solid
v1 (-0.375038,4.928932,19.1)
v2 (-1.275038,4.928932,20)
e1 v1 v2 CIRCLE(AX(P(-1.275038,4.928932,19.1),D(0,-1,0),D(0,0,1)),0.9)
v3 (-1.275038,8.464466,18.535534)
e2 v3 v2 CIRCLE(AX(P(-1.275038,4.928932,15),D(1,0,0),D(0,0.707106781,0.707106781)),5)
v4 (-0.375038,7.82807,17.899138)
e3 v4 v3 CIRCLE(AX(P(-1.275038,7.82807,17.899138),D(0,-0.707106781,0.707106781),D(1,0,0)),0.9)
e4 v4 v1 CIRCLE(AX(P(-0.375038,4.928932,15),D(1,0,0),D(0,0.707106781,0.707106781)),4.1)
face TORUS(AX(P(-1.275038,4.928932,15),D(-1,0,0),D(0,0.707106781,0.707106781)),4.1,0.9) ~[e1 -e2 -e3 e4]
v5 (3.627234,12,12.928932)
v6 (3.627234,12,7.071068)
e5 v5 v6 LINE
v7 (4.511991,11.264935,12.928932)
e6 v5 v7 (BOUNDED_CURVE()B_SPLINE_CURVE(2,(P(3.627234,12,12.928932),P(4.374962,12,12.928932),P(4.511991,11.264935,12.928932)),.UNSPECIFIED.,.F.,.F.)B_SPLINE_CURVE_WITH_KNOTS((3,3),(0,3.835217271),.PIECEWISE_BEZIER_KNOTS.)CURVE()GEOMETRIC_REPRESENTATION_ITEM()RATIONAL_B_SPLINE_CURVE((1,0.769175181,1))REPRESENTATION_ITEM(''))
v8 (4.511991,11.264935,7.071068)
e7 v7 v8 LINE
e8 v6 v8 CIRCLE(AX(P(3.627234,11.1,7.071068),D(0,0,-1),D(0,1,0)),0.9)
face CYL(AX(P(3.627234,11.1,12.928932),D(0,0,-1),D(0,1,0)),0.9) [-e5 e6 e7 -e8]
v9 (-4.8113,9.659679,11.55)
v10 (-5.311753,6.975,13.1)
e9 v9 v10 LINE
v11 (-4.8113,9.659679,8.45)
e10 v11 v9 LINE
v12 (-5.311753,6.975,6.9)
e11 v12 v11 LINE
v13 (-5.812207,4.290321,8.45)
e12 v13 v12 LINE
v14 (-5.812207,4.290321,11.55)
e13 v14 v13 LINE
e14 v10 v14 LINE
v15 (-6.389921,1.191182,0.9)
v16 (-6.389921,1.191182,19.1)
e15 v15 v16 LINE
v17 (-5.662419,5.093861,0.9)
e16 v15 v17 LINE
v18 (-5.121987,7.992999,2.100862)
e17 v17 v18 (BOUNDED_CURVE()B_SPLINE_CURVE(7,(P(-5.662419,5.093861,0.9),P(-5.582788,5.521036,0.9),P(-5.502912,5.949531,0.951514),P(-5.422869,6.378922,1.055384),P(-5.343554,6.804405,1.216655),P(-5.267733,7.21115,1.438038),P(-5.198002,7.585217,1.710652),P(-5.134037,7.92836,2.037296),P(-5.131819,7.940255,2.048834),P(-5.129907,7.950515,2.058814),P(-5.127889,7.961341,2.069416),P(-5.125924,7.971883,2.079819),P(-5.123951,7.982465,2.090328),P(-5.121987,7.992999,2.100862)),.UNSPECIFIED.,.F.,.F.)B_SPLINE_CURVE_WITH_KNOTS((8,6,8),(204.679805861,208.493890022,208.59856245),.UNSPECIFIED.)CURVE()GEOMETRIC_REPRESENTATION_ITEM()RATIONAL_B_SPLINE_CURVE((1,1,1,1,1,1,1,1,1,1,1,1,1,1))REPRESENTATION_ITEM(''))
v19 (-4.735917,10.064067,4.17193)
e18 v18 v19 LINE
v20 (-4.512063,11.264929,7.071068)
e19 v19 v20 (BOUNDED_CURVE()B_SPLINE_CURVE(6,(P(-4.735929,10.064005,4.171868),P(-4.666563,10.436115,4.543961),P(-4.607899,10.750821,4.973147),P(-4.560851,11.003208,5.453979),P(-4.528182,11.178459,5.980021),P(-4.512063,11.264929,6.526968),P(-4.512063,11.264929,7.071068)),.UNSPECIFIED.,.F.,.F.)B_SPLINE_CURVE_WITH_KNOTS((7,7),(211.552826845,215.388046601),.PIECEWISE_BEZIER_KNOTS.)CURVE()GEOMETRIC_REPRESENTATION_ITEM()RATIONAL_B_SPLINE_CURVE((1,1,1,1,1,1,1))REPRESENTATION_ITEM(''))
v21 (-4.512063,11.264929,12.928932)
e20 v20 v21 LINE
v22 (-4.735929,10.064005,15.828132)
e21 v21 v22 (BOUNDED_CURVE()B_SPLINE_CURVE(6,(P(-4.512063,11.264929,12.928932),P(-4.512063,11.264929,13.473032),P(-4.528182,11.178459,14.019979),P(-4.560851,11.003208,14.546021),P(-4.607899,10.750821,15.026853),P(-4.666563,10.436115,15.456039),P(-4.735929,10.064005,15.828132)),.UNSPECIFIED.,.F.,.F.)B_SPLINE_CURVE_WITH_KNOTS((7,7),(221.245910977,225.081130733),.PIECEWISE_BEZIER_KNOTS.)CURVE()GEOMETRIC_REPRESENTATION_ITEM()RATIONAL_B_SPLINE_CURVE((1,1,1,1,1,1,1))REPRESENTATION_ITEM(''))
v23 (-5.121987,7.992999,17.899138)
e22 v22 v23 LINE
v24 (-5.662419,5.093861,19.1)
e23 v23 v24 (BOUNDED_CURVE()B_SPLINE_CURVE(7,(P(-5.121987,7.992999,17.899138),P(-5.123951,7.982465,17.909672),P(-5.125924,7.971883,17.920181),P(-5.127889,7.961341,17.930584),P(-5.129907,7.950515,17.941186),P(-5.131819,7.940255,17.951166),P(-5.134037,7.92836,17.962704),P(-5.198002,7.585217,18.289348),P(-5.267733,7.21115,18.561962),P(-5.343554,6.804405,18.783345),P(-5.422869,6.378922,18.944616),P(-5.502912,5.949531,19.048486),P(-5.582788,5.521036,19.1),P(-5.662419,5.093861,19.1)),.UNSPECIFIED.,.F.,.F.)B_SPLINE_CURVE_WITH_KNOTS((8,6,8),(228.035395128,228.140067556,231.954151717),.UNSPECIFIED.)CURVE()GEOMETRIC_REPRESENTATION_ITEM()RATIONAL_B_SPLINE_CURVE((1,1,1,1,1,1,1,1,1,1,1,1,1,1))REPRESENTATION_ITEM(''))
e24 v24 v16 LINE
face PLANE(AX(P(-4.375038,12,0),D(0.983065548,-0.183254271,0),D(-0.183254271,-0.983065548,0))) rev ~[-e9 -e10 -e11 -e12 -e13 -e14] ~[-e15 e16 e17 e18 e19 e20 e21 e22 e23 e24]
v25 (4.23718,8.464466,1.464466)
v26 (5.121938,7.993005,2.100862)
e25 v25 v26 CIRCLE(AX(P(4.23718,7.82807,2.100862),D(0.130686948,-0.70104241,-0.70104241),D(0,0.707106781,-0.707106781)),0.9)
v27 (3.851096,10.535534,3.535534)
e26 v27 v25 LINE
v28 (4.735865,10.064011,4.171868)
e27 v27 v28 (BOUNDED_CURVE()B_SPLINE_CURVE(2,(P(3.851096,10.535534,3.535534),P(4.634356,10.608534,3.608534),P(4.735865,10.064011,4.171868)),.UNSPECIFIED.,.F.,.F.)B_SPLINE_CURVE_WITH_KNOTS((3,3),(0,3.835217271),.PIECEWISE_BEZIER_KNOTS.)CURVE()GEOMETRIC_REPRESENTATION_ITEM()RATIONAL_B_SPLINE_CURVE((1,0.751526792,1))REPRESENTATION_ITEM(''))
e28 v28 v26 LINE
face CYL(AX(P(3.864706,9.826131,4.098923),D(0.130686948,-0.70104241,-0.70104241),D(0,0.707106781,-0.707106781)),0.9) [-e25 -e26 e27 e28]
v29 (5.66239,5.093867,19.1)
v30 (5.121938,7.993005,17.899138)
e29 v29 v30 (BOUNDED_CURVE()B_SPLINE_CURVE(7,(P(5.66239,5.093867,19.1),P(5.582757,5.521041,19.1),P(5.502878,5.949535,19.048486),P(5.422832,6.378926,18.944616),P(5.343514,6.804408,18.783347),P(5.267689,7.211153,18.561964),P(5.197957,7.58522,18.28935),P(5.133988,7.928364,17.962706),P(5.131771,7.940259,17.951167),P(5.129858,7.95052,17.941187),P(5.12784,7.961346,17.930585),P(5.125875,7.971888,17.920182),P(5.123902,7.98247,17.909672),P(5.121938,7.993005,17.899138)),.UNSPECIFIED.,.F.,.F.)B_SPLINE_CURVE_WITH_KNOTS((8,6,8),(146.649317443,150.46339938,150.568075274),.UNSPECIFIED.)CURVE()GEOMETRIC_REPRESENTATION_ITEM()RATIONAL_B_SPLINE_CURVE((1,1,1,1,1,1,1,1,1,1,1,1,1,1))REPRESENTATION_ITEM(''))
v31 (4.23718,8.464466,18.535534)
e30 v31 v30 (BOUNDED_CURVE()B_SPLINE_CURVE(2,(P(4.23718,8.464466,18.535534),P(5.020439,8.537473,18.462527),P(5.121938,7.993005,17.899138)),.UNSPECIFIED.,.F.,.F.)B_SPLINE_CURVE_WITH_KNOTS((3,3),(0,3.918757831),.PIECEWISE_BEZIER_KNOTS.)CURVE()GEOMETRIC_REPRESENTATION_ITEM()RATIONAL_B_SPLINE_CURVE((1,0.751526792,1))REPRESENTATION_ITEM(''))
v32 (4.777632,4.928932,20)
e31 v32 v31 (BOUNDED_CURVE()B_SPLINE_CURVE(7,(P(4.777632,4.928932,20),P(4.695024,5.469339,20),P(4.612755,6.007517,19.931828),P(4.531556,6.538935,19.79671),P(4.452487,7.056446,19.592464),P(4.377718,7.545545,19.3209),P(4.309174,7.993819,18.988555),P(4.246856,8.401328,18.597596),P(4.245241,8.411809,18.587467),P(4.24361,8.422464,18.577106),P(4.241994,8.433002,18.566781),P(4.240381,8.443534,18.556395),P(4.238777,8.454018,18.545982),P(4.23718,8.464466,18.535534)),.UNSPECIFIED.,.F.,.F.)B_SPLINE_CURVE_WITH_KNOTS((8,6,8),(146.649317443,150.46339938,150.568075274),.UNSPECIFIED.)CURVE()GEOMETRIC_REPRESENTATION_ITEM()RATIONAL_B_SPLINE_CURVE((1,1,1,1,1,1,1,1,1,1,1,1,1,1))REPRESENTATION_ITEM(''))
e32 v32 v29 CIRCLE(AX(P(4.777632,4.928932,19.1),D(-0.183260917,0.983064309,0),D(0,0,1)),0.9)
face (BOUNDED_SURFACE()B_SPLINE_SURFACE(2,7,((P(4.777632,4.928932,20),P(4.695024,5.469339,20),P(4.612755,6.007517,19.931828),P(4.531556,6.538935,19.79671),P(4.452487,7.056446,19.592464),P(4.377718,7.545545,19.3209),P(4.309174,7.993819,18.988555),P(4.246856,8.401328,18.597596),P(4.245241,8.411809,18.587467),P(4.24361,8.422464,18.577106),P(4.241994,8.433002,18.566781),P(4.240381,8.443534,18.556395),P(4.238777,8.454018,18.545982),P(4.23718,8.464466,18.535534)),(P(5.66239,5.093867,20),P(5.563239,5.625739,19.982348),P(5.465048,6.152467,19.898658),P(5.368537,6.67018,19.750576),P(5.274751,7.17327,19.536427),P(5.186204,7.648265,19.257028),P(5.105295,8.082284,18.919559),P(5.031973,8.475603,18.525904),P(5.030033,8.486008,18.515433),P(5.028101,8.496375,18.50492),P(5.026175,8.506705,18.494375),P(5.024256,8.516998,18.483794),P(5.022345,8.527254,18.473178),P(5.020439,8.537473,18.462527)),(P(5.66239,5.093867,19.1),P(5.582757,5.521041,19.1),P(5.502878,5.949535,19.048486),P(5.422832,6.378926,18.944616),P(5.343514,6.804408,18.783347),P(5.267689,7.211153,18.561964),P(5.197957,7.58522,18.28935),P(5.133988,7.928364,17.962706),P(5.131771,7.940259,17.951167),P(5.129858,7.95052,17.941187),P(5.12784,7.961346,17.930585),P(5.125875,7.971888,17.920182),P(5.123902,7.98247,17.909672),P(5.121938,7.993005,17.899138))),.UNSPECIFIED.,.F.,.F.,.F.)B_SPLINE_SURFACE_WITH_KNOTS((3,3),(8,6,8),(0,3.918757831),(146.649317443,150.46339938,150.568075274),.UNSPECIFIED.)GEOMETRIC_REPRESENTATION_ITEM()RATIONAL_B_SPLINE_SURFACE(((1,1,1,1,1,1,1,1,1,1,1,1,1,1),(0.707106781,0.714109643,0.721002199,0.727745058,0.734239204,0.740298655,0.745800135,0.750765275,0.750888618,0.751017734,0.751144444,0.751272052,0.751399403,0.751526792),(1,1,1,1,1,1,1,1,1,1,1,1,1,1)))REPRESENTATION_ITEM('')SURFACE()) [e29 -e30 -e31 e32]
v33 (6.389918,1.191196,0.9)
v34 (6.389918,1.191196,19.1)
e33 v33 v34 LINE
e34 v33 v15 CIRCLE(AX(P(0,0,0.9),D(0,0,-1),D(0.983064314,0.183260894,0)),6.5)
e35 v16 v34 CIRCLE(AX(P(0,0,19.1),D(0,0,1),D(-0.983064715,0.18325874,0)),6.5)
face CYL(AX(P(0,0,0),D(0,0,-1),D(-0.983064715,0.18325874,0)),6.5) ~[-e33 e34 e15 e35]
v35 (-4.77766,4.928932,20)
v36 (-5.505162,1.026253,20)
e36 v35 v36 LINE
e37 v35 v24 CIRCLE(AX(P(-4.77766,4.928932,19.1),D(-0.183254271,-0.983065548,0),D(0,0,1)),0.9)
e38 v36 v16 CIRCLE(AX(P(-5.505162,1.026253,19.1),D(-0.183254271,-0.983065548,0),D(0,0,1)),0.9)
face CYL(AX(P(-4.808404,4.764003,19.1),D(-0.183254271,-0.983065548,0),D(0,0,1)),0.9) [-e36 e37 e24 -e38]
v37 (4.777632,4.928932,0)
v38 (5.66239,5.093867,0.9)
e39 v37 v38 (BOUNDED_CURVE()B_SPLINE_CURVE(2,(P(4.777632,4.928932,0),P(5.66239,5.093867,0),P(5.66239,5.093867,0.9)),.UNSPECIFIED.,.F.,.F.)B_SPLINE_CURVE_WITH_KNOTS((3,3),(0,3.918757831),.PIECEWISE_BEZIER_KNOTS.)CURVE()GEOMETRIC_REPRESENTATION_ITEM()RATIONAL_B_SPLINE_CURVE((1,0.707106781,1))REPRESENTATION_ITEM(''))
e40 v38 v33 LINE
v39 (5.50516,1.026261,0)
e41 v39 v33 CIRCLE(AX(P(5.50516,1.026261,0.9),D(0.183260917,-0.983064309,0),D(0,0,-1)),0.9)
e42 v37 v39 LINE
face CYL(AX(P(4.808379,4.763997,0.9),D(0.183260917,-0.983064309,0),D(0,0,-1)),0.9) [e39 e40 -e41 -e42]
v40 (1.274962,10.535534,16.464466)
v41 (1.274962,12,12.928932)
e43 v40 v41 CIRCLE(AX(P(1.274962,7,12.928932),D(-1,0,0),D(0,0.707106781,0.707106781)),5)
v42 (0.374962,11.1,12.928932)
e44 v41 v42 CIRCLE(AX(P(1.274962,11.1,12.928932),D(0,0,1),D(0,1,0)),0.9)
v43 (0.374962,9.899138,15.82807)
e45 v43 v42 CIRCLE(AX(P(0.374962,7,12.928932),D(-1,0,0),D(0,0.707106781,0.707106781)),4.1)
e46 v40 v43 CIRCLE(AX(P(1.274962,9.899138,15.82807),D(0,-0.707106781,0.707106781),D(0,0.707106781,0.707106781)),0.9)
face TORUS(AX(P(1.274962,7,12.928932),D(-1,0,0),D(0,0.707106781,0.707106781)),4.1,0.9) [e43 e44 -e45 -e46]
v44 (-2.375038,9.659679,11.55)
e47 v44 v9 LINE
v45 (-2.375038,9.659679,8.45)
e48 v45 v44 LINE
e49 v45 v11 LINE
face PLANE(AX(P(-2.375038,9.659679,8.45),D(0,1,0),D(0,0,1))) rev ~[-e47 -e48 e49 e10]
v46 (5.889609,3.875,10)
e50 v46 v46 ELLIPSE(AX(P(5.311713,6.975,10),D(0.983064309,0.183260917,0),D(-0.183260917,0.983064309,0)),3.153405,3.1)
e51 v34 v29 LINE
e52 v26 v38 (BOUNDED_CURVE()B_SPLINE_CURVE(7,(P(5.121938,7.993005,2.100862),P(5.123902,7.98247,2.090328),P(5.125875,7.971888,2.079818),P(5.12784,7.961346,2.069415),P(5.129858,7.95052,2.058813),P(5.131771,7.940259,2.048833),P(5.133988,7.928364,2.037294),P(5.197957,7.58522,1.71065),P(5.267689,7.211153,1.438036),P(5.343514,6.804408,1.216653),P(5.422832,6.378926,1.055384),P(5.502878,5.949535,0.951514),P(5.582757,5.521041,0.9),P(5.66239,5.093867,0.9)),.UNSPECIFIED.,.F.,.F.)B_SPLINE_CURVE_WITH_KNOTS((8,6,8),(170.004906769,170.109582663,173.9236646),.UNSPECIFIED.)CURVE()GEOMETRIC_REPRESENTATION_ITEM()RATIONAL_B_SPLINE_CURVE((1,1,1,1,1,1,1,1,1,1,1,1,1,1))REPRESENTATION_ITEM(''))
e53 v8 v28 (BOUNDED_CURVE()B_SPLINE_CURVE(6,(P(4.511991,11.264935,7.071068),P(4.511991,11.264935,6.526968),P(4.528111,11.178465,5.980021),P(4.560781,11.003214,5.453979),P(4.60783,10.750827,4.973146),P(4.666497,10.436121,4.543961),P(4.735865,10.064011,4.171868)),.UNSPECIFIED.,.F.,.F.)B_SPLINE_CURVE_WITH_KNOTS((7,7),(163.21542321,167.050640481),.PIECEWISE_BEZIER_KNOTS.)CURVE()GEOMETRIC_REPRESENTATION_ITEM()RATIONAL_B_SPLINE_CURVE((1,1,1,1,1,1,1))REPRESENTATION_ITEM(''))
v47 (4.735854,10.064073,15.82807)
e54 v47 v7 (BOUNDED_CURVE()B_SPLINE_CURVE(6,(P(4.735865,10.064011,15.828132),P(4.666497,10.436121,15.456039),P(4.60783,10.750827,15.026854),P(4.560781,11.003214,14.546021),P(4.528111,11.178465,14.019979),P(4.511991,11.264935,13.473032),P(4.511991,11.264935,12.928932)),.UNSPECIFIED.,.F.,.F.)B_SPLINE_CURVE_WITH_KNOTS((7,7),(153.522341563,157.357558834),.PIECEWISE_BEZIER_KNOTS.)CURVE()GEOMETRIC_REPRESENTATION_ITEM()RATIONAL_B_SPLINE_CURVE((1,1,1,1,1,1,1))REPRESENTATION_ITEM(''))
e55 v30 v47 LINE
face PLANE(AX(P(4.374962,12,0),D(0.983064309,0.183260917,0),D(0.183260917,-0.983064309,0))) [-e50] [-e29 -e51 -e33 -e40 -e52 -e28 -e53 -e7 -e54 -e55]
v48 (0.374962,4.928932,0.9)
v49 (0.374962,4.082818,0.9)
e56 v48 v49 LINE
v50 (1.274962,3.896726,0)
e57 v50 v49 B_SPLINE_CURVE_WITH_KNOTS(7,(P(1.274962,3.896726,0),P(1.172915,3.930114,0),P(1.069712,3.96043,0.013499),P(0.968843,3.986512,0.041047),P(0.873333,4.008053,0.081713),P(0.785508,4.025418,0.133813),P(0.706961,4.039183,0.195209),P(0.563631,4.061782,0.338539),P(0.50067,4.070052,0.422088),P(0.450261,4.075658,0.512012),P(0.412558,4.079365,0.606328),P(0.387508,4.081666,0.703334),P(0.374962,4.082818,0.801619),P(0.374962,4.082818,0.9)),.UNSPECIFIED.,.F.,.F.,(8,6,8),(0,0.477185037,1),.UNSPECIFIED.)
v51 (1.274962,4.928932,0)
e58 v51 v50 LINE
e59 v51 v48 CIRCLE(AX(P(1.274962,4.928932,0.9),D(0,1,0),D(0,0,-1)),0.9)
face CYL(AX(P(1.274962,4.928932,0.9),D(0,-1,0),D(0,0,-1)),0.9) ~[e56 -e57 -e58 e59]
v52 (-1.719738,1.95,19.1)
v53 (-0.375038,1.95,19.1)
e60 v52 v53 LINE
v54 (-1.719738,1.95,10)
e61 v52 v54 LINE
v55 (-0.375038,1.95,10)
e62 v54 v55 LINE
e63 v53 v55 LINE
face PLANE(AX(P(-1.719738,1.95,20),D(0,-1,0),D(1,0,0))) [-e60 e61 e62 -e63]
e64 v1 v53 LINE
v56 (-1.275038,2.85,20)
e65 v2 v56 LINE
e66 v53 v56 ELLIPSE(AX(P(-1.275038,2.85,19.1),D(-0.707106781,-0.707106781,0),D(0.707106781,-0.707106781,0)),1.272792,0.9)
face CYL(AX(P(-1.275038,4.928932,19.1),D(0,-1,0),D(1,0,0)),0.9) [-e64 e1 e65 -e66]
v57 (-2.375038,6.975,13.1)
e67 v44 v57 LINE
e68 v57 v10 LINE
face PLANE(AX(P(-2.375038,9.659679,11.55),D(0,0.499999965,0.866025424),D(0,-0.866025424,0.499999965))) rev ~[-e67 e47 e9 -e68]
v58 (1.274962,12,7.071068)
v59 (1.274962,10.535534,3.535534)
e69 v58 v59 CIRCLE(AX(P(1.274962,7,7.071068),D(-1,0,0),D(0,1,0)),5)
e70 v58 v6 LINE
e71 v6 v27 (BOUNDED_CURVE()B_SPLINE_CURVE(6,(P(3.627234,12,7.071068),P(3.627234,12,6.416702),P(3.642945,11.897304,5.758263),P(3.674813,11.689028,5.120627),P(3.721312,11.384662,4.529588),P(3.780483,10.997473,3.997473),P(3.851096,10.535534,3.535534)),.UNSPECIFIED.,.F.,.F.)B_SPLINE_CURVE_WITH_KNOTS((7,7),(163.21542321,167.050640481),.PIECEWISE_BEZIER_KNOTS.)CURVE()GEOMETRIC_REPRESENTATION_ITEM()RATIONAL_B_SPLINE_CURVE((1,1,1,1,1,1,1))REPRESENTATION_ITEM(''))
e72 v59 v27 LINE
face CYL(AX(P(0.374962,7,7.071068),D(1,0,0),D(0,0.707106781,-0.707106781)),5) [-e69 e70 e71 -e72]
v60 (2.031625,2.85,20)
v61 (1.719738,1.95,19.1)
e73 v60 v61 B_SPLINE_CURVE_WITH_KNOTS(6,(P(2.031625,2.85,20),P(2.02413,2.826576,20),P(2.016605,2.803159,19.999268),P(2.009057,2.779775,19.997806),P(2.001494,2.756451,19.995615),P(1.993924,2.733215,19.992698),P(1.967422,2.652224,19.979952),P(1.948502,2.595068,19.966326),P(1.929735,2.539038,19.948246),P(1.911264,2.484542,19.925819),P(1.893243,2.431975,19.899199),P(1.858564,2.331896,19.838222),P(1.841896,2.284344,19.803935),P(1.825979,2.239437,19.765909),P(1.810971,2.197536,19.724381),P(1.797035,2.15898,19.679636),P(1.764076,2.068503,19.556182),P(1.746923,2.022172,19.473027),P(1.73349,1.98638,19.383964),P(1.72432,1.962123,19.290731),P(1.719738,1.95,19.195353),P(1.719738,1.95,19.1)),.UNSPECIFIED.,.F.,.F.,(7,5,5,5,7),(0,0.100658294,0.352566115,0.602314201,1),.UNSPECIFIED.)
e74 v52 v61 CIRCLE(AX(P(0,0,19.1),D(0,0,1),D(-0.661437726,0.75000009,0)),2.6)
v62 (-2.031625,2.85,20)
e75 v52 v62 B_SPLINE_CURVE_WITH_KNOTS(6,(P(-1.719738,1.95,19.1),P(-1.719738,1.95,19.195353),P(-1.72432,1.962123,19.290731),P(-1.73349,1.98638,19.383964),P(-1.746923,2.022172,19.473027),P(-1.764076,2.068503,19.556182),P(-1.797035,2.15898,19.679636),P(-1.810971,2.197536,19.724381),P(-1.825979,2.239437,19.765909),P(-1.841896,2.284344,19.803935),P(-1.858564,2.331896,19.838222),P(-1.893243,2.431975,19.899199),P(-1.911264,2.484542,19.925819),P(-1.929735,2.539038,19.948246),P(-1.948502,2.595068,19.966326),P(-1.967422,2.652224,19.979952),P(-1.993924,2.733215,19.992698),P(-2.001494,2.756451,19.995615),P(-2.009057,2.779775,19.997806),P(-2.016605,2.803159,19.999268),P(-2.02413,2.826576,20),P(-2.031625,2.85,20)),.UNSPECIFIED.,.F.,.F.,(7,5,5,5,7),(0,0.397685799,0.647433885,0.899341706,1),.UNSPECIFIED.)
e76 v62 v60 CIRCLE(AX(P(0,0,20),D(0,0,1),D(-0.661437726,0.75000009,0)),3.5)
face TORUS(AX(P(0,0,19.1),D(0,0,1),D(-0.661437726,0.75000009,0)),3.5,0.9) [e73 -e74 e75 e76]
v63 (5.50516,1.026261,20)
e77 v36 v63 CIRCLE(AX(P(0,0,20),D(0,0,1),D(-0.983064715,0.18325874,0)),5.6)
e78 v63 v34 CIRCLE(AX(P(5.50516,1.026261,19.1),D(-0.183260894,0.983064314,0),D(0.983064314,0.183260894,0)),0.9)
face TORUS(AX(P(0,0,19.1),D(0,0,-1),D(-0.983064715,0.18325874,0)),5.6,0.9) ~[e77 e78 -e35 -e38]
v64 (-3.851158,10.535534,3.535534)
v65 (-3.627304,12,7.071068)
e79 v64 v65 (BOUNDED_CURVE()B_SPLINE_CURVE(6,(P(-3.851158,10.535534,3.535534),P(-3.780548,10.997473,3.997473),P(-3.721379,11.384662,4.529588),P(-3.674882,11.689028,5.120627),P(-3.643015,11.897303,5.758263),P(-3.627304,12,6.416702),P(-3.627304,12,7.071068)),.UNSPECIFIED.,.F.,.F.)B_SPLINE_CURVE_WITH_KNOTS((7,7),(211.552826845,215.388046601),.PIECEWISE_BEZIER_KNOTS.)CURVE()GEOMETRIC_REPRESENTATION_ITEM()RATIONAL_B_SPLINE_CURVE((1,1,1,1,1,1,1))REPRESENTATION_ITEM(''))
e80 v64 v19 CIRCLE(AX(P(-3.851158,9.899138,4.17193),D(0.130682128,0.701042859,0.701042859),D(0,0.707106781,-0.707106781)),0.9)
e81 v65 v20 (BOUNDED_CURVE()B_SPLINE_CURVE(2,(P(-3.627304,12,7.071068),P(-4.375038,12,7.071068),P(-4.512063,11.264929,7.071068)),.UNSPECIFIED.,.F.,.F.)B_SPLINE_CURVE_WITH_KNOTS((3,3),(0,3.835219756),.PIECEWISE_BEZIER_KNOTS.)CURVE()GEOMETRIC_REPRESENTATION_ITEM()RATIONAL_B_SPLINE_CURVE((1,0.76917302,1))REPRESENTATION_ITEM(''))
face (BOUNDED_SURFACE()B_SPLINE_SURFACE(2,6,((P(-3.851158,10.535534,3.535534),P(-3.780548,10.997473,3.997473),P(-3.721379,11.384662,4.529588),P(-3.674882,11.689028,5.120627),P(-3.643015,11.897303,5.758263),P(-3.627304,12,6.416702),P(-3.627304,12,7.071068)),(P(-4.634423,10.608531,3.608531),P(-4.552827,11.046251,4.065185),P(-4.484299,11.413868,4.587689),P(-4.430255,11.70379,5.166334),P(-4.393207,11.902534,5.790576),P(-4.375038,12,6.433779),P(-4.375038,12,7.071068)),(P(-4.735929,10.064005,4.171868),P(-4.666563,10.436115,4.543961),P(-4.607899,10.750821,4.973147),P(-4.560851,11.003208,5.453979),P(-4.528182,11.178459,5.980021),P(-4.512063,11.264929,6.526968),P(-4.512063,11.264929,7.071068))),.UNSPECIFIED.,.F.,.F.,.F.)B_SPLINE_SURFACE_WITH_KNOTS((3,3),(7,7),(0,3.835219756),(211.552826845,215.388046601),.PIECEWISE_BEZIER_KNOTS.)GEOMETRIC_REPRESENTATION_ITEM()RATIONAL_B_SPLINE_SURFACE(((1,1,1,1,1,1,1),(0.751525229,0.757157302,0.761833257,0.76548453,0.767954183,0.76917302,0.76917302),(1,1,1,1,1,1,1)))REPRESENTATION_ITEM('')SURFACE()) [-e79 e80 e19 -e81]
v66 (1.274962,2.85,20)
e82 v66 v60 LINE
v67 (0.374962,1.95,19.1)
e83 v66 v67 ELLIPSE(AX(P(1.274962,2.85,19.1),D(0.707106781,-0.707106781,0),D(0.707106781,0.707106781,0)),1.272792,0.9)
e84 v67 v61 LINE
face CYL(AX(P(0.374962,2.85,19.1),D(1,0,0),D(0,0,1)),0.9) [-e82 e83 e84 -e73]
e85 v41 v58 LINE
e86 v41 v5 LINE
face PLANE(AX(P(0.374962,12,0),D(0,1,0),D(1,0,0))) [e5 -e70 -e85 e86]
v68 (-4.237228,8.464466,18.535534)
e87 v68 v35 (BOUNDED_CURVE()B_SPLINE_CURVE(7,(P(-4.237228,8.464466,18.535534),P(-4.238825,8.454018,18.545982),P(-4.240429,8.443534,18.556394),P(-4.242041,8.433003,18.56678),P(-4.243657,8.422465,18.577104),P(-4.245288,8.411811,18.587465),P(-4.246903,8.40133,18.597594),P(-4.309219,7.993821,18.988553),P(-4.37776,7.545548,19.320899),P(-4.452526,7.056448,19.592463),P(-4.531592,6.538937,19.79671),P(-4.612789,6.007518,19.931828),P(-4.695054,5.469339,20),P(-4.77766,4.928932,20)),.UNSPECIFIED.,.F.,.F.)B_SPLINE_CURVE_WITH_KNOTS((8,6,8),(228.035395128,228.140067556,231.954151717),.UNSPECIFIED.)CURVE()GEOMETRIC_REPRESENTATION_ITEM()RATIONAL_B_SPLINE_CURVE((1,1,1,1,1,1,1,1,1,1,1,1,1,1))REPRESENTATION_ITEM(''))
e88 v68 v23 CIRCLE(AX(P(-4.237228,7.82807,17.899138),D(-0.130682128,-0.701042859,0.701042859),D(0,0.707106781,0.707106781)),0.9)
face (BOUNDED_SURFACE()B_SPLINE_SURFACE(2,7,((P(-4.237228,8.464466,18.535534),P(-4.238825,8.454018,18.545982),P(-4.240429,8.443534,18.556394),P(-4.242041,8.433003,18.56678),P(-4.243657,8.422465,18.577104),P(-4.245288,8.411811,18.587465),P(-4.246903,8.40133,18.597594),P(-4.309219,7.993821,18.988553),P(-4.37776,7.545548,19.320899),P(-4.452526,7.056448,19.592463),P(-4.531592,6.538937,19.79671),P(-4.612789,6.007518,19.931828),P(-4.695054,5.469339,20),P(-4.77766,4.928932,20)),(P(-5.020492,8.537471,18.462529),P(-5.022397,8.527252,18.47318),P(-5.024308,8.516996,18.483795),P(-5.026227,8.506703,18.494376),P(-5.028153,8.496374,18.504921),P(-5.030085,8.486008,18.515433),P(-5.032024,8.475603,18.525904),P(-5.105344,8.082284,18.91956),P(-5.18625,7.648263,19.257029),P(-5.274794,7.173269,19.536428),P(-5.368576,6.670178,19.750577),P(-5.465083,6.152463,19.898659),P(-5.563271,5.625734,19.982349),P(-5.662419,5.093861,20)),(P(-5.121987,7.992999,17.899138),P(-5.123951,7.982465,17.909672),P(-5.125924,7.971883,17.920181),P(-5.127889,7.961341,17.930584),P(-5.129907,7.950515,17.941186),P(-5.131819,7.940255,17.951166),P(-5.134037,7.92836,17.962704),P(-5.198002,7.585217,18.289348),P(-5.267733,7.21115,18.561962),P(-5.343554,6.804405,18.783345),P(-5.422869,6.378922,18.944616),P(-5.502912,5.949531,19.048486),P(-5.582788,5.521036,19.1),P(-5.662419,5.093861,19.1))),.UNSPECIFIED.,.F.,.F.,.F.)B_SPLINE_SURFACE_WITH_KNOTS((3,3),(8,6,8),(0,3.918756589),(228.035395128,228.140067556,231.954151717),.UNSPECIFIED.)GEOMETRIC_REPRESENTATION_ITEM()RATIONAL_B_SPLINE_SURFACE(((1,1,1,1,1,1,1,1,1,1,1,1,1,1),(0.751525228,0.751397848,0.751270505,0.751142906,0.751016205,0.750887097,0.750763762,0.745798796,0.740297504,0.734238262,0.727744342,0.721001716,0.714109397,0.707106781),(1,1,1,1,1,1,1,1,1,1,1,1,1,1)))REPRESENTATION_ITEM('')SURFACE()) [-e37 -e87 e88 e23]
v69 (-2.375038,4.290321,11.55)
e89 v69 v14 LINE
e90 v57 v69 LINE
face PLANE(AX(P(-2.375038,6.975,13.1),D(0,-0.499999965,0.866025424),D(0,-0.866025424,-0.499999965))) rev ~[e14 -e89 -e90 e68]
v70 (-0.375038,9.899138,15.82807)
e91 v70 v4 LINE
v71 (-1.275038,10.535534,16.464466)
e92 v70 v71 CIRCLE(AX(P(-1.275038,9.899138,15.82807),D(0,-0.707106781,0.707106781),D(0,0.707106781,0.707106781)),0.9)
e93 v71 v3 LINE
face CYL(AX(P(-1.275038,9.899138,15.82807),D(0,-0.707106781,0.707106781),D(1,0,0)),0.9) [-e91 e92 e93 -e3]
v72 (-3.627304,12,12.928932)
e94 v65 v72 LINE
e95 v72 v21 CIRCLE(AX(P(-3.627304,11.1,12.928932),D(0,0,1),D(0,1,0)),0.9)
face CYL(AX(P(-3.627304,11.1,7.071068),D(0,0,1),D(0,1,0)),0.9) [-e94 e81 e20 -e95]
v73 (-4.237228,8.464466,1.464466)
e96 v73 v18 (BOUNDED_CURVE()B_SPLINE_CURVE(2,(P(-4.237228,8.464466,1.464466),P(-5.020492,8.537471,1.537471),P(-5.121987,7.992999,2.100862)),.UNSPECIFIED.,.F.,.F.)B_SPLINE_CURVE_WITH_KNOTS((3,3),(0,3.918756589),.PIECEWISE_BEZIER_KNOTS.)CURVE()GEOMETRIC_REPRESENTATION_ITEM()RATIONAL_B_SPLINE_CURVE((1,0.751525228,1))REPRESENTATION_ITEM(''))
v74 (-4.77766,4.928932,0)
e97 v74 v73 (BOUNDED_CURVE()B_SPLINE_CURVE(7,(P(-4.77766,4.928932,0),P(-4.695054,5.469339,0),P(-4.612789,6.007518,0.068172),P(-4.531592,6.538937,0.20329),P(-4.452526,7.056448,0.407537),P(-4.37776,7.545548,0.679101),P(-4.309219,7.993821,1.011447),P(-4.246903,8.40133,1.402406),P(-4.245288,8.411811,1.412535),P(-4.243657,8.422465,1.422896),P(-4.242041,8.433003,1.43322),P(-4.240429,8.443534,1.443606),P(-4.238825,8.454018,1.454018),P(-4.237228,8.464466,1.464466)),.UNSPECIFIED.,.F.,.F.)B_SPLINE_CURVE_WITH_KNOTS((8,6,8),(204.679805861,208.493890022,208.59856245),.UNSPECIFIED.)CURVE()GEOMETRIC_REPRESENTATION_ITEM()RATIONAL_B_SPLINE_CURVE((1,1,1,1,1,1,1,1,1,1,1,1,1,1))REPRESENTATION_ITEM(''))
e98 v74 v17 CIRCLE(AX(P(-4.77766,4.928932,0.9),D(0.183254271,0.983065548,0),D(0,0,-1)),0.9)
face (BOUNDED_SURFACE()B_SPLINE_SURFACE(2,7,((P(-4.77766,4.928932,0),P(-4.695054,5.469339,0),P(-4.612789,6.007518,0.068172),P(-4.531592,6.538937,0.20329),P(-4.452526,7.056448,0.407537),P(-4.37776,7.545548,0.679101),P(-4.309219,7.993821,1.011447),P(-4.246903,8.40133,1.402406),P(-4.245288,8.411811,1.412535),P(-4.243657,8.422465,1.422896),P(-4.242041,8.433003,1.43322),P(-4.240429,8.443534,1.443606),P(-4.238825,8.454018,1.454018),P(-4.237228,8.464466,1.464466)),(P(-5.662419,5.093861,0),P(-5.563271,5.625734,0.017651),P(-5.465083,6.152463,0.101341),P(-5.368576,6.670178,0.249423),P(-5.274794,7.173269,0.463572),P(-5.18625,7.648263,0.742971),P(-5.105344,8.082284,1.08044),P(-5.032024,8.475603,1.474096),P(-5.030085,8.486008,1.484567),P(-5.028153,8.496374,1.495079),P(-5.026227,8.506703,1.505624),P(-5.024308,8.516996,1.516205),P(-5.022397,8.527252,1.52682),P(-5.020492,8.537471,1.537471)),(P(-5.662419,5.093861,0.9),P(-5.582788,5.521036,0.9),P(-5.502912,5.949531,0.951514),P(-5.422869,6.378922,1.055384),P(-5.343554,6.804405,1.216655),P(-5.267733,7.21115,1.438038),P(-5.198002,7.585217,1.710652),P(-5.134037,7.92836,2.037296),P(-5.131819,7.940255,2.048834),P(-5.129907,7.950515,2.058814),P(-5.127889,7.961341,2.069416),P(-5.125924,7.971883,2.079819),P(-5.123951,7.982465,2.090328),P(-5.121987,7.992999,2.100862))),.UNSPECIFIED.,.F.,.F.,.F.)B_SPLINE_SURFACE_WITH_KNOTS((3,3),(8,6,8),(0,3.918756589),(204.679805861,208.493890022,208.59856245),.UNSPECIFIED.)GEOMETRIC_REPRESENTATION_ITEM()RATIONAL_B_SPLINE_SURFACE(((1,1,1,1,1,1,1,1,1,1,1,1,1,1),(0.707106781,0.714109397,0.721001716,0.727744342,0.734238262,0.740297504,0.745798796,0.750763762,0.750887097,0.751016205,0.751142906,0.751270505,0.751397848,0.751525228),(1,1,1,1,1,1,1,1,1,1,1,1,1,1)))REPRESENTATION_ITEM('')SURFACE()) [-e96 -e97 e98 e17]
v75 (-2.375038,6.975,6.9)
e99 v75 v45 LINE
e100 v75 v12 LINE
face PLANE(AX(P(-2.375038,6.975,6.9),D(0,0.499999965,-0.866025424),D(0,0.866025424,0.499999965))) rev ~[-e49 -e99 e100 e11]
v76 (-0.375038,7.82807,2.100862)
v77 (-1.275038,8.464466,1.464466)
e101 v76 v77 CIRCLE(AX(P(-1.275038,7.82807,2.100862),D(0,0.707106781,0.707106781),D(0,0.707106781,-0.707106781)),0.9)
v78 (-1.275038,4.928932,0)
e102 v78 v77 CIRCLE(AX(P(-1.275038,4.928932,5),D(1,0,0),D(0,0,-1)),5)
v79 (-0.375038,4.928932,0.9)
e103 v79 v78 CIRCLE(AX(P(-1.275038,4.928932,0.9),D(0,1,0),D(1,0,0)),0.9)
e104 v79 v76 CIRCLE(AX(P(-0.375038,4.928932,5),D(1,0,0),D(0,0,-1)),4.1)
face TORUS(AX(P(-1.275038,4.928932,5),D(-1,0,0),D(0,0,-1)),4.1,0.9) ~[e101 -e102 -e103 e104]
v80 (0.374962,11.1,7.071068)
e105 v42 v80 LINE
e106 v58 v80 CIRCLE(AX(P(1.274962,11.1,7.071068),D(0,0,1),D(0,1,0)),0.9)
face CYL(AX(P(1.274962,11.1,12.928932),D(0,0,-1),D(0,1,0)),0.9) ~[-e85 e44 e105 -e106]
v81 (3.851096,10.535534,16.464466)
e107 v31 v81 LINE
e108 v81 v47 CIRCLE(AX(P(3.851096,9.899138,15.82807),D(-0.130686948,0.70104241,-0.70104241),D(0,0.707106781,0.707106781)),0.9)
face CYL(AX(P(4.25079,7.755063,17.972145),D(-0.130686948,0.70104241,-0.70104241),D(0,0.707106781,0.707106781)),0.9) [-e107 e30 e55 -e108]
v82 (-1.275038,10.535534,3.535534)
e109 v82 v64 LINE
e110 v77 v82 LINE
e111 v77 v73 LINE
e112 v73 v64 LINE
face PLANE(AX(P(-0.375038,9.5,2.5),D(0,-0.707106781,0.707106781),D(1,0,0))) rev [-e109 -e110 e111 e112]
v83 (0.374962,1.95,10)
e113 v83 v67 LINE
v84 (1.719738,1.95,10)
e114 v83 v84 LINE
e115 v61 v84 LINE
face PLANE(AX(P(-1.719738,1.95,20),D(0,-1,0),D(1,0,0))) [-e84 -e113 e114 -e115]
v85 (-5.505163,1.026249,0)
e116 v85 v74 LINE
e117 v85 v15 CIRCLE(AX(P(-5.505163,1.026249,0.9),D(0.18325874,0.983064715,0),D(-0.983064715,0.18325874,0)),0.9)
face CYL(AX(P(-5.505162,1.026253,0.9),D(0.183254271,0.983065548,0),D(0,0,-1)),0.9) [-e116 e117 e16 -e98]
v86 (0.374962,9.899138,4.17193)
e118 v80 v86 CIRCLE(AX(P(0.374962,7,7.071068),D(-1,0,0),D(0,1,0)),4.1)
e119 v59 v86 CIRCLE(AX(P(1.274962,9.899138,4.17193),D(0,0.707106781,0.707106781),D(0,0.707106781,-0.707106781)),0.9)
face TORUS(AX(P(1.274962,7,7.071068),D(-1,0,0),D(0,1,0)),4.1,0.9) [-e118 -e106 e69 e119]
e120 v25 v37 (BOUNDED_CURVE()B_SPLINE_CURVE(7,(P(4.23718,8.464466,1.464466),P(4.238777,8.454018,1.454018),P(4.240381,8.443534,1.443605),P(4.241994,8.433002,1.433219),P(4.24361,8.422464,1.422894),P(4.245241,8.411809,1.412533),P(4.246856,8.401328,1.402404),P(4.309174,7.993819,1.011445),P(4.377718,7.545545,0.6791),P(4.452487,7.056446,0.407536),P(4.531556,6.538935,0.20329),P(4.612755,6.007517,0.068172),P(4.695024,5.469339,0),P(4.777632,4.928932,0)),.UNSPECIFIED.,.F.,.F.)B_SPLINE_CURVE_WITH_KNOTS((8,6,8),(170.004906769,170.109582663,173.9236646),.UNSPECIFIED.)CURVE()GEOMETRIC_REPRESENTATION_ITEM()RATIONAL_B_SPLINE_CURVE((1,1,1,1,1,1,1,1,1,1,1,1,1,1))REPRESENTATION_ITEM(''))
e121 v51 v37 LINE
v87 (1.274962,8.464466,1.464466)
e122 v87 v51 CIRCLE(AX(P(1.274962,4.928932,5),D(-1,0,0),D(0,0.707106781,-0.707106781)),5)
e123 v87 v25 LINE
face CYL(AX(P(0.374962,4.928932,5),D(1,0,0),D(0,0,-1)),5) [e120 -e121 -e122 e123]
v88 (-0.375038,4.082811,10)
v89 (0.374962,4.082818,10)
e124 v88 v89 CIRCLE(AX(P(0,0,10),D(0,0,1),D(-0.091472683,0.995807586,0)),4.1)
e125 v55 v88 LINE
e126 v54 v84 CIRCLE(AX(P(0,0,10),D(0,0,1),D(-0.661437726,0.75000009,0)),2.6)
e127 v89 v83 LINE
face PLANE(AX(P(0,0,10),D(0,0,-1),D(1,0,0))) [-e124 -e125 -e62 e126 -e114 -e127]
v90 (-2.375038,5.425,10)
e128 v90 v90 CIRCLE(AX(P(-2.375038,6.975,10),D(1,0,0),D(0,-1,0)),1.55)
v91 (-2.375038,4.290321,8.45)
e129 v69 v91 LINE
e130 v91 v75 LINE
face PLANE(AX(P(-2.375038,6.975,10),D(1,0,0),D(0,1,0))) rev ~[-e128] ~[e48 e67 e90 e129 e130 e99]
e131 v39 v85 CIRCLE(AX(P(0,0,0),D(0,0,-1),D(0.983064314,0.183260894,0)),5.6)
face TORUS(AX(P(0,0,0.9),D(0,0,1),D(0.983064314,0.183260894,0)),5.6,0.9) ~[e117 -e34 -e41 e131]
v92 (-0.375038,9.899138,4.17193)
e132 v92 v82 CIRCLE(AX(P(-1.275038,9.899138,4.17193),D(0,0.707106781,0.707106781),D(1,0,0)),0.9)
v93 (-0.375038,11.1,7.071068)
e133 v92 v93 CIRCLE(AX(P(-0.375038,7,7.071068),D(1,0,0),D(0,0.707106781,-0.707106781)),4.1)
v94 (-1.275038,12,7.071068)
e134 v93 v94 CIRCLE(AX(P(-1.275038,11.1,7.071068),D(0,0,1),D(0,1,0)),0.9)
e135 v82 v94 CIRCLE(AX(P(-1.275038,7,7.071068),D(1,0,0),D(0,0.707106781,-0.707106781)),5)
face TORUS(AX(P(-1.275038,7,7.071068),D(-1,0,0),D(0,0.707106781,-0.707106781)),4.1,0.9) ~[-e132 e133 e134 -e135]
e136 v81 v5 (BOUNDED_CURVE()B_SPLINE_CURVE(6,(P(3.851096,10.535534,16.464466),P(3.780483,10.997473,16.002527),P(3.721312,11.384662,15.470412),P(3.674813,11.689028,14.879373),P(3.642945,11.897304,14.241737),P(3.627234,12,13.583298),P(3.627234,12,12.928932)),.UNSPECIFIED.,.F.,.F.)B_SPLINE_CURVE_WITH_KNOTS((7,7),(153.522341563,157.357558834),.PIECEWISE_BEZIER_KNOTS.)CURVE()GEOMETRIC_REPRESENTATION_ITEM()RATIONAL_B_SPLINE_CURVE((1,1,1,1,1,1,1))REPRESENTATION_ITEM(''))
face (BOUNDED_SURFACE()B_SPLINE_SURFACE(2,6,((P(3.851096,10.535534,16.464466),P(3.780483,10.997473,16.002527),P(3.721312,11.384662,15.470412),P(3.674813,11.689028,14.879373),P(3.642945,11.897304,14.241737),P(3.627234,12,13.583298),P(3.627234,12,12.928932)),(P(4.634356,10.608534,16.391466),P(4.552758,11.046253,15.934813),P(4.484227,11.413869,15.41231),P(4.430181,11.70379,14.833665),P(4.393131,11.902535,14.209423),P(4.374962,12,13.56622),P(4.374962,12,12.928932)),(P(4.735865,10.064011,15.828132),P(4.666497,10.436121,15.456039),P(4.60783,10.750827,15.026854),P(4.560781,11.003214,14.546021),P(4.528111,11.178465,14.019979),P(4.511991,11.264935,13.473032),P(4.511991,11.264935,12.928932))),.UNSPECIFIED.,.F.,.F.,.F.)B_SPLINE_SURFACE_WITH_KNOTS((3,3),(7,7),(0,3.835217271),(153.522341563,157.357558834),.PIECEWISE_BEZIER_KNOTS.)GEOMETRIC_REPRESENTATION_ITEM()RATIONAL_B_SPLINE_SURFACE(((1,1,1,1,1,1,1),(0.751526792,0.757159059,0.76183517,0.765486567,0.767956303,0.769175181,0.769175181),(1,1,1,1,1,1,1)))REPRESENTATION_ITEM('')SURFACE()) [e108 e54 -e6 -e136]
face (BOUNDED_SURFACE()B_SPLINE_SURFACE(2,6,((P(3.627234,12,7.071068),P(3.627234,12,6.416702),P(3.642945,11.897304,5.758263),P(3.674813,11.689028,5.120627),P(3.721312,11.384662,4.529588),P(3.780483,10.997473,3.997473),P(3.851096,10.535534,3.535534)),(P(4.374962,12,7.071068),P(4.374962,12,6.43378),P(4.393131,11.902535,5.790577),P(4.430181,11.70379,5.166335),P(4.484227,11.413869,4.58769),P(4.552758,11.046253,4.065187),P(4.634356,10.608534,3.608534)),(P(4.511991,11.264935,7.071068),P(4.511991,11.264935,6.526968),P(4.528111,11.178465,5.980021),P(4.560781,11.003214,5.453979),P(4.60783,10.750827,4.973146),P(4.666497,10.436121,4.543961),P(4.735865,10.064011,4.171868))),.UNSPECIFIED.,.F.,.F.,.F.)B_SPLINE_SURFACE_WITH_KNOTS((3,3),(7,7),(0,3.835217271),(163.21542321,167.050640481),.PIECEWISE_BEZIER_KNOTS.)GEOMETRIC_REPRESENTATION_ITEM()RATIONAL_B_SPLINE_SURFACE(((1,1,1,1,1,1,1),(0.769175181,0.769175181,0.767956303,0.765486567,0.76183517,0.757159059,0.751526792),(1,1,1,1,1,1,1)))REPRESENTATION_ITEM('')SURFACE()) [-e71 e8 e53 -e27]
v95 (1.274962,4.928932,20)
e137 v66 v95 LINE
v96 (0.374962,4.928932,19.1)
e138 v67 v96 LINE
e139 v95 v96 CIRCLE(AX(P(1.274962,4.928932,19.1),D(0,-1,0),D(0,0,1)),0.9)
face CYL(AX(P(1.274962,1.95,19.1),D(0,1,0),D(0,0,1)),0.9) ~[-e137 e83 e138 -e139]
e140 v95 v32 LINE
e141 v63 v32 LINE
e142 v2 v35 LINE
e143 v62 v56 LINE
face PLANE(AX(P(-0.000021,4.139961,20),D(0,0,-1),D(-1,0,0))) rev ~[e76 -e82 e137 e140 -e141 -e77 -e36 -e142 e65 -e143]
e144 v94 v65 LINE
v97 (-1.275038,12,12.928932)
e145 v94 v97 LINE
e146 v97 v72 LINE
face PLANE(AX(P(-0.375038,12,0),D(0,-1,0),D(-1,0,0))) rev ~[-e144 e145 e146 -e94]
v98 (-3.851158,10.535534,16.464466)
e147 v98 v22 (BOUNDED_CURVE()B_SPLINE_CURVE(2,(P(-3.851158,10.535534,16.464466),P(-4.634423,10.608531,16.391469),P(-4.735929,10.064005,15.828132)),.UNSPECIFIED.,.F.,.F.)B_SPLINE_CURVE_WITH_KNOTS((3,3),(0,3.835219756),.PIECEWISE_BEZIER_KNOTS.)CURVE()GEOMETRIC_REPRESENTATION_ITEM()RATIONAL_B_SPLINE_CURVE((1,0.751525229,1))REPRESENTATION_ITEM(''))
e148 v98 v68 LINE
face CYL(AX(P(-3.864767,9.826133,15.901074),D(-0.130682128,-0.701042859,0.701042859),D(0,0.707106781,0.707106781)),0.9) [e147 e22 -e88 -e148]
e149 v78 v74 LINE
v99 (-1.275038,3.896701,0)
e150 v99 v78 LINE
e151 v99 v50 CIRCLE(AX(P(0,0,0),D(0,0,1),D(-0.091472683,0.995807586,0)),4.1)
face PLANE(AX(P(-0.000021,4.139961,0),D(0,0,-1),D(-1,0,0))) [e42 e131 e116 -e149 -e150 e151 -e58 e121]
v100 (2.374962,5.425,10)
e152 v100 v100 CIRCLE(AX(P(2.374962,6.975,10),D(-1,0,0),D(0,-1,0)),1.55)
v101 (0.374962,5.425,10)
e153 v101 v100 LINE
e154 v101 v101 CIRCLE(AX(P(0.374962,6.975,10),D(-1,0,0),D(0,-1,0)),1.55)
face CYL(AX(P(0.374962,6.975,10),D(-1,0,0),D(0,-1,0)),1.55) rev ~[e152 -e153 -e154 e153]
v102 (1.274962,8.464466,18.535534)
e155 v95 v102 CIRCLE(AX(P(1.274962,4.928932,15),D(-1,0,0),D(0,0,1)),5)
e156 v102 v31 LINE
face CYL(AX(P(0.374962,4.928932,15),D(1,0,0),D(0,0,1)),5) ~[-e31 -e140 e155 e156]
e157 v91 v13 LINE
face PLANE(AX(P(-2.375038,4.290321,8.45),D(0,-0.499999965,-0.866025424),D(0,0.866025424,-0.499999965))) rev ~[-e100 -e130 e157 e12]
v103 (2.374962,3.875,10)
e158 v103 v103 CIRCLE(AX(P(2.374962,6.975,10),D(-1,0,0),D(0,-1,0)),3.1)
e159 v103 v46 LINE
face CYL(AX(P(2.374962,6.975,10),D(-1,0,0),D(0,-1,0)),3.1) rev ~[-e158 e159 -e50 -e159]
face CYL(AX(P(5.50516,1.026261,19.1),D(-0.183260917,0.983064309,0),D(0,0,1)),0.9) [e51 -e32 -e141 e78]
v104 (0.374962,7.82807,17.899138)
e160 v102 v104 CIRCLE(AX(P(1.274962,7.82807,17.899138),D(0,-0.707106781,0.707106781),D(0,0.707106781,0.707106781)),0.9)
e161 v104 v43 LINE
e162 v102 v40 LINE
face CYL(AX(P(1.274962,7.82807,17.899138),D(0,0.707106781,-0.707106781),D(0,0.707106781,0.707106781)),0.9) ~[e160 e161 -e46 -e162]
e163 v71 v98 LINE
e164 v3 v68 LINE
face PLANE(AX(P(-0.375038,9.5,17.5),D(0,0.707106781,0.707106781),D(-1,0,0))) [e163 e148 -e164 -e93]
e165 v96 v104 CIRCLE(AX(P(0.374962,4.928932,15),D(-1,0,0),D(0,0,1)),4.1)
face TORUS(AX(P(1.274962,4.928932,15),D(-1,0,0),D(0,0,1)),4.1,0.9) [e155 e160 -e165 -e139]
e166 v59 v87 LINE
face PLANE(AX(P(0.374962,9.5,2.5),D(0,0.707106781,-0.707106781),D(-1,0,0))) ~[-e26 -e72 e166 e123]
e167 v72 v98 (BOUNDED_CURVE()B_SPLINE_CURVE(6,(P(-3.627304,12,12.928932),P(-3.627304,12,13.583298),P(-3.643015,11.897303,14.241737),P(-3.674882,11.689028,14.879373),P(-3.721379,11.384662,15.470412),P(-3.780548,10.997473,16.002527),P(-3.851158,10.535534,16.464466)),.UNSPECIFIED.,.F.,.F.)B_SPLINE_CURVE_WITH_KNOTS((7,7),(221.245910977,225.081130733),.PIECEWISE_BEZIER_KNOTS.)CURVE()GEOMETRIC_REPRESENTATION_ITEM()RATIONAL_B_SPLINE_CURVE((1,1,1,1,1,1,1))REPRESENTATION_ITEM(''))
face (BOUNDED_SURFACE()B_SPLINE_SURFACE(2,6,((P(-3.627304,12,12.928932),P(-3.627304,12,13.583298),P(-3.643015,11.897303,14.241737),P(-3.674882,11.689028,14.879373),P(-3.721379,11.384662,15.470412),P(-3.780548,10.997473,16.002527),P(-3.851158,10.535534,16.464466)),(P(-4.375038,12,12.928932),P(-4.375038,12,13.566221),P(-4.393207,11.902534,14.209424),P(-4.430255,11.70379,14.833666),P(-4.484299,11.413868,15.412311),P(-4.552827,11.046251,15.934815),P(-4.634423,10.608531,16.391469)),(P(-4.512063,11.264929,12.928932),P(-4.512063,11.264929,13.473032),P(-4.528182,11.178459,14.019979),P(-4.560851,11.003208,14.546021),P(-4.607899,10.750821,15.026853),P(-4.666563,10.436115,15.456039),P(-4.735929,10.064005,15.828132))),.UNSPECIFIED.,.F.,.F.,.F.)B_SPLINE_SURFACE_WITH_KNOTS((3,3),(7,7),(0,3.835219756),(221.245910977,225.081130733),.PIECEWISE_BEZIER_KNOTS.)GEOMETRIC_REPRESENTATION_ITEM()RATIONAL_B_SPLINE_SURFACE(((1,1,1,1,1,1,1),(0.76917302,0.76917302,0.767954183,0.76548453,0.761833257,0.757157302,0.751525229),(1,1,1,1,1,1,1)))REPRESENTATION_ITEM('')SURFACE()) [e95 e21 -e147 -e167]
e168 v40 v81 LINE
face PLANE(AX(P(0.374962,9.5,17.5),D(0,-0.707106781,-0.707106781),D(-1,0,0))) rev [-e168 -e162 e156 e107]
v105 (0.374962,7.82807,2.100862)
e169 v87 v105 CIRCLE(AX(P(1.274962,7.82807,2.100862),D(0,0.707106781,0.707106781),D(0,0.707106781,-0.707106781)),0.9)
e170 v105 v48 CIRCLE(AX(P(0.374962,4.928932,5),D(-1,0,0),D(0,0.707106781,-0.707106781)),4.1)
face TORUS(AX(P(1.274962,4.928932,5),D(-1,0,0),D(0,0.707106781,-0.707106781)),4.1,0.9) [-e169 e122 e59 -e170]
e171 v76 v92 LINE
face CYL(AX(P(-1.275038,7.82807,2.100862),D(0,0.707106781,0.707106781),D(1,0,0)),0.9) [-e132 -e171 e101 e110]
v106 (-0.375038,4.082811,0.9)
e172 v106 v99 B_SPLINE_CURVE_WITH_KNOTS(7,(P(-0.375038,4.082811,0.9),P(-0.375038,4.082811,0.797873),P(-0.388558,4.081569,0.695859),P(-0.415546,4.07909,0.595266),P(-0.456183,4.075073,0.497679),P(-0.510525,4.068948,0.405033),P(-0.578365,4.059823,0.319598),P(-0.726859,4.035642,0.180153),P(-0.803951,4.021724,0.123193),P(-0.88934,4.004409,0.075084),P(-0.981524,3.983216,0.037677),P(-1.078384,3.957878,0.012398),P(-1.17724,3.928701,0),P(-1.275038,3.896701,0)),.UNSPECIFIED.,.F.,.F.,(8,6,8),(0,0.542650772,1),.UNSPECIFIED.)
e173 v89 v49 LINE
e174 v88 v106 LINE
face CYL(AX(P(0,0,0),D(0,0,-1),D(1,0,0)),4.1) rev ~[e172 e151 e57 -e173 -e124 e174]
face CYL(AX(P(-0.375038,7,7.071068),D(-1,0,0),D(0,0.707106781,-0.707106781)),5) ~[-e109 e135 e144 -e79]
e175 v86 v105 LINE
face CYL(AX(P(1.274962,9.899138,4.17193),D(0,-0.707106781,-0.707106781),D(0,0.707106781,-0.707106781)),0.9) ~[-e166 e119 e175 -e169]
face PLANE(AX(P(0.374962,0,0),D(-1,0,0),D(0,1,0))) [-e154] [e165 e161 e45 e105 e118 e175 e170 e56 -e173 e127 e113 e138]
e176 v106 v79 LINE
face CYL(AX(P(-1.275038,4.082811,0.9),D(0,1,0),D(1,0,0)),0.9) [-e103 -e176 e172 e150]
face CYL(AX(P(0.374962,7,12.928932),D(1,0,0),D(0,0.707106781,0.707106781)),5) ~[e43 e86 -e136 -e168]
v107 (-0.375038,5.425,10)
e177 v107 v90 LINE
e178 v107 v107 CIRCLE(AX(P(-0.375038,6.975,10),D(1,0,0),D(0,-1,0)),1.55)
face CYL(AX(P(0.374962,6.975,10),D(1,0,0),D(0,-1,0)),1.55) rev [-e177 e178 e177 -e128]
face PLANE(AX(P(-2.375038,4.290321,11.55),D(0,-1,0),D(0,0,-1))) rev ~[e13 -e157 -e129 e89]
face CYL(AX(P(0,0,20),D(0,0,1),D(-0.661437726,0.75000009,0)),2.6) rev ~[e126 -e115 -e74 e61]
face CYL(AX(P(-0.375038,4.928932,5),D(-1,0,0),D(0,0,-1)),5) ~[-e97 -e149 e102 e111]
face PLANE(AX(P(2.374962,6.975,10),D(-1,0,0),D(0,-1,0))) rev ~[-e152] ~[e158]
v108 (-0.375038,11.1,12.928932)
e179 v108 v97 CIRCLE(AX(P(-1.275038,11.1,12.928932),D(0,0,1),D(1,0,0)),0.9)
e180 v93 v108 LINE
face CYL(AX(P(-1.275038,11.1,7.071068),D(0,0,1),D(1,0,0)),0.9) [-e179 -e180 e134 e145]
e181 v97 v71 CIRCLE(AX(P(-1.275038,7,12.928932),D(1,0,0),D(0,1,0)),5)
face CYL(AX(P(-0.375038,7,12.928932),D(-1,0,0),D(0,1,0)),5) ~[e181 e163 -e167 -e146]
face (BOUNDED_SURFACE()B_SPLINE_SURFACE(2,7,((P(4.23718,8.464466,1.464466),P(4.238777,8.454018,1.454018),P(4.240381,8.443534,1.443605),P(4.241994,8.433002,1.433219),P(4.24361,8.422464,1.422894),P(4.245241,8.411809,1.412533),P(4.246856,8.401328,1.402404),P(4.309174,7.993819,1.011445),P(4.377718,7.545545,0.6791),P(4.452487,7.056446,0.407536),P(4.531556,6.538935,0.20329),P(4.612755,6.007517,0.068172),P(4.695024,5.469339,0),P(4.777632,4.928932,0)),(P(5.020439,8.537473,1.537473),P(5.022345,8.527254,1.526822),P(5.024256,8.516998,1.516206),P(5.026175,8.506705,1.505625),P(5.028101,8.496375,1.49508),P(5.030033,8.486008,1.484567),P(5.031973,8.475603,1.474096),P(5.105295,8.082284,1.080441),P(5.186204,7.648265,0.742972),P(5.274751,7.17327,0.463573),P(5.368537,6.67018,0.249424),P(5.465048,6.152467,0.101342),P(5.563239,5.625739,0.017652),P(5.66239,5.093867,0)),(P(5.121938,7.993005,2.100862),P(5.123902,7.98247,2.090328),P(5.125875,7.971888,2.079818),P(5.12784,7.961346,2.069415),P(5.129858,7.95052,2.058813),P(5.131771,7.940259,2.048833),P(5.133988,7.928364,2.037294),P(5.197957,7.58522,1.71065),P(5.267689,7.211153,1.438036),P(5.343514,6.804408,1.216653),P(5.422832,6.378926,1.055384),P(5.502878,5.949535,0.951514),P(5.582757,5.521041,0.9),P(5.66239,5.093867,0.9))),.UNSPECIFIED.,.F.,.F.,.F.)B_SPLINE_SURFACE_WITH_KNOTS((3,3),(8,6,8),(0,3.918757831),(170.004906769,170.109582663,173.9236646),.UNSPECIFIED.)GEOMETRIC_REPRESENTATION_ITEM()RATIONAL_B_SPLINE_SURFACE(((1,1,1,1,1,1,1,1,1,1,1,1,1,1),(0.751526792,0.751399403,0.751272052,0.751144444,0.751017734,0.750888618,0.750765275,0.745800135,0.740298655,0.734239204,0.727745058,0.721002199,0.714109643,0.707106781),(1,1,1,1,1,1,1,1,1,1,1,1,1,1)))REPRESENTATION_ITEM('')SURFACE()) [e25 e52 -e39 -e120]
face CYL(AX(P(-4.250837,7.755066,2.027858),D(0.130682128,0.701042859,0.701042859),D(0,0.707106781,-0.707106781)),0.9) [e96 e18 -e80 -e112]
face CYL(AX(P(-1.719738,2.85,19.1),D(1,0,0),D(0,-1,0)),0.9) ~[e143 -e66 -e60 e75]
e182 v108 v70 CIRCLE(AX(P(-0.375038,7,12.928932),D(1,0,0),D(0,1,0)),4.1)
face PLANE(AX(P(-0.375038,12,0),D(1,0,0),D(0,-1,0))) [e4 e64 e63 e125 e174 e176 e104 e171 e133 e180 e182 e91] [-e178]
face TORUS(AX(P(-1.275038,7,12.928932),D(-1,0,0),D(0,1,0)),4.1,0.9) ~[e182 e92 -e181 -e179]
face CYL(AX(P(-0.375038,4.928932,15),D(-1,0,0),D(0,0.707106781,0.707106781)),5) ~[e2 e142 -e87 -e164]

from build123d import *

# Parameters (mm, degrees)
EXTRUDE002_DEPTH     = 10
SKETCH004_R          = 3.1
EXTRUDE001_DEPTH     = 10
EXTRUDE_DEPTH        = 20
SKETCH001_R          = 4.1
POCKET_DEPTH         = 10
POCKET001_DEPTH      = 10
SKETCH003_R          = 1.55
POCKET002_DEPTH      = 6.126038
POCKET002_DEPTH_BACK = -6.875962
CHAMFER_SIZE         = 5
FILLET_R             = 5
FILLET001_R          = 0.9


with BuildPart() as extrude002:
    # Sketch005 → Extrude002 (new body)
    with BuildSketch(Plane.YZ.offset(-0.375038)):
        Polygon((9.659679, 11.55), (6.975, 13.1), (4.290321, 11.55), (4.290321, 8.45), (6.975, 6.9), (9.659679, 8.45), align=None)
    extrude(amount=-EXTRUDE002_DEPTH)


with BuildPart() as extrude002_1:
    # Extrude002 placement: moved
    add(extrude002.part.moved(Location((-2, 0, 0))))


with BuildPart() as extrude001:
    # Sketch004 → Extrude001 (new body)
    with BuildSketch(Plane(origin=(0.374962, 0, 0), x_dir=(0, -1, 0), z_dir=(-1, 0, 0))):
        with Locations((-6.975, 10)):
            Circle(SKETCH004_R)
    extrude(amount=-EXTRUDE001_DEPTH)


with BuildPart() as extrude001_1:
    # Extrude001 placement: moved
    add(extrude001.part.moved(Location((2, 0, 0))))


with BuildPart() as fillet001:
    # Sketch → Extrude (new body)
    with BuildSketch(Plane.XY):
        with BuildLine():
            Line((-0.375038, 12), (-0.375038, 0))
            Line((-0.375038, 0), (0.374962, 0))
            Line((0.374962, 0), (0.374962, 12))
            Line((0.374962, 12), (4.374962, 12))
            Line((4.374962, 12), (6.389918, 1.191196))
            ThreePointArc((-6.389921, 1.191182), (7e-06, -6.5), (6.389918, 1.191196))
            Line((-4.375038, 12), (-6.389921, 1.191182))
            Line((-0.375038, 12), (-4.375038, 12))
        make_face()
    extrude(amount=EXTRUDE_DEPTH)

    # Sketch001 → Pocket (cut)
    with BuildSketch(Plane(origin=(0, 0, 0), x_dir=(1, 0, 0), z_dir=(0, 0, -1))):
        Circle(SKETCH001_R)
    extrude(amount=-POCKET_DEPTH, mode=Mode.SUBTRACT)

    # Sketch002 → Pocket001 (cut)
    with BuildSketch(Plane.XY.offset(20)):
        with BuildLine():
            ThreePointArc((-1.719738, 1.95), (0, -2.6), (1.719738, 1.95))
            Line((-1.719738, 1.95), (1.719738, 1.95))
        make_face()
    extrude(amount=-POCKET001_DEPTH, mode=Mode.SUBTRACT)

    # Sketch003 → Pocket002 (cut, two sides)
    with BuildSketch(Plane(origin=(0.374962, 0, 0), x_dir=(0, -1, 0), z_dir=(-1, 0, 0))) as pocket002_sk:
        with Locations((-6.975, 10)):
            Circle(SKETCH003_R)
    extrude(amount=-POCKET002_DEPTH, mode=Mode.SUBTRACT)
    extrude(pocket002_sk.sketch, amount=-POCKET002_DEPTH_BACK, mode=Mode.SUBTRACT)

    # Cut: cut Extrude001
    add(extrude001_1.part, mode=Mode.SUBTRACT)

    # Cut001: cut Extrude002
    add(extrude002_1.part, mode=Mode.SUBTRACT)

    # Chamfer
    chamfer_edges = [fillet001.edges().sort_by_distance(p)[0] for p in [
        (-2.375038, 12, 0),
        (2.374962, 12, 0),
        (-2.375038, 12, 20),
        (2.374962, 12, 20),
    ]]
    chamfer(chamfer_edges, length=CHAMFER_SIZE)

    # Fillet
    fillet_edges = [fillet001.edges().sort_by_distance(p)[0] for p in [
        (-2.841066, 7, 0),
        (2.841007, 7, 0),
        (-2.375038, 12, 5),
        (-2.375038, 12, 15),
        (-2.841066, 7, 20),
        (2.841007, 7, 20),
        (2.374962, 12, 5),
        (2.374962, 12, 15),
    ]]
    fillet(fillet_edges, radius=FILLET_R)

    # Fillet001
    fillet001_edges = [fillet001.edges().sort_by_distance(p)[0] for p in [
        (-0.375038, 3.439466, 20),
        (-1.047388, 1.95, 20),
        (-6.041542, 3.060057, 20),
        (7e-06, -6.5, 20),
        (6.041527, 3.060064, 20),
        (0, -2.6, 20),
        (0.374962, 3.439466, 20),
        (1.04735, 1.95, 20),
    ]]
    fillet(fillet001_edges, radius=FILLET001_R)


solid = fillet001.part
